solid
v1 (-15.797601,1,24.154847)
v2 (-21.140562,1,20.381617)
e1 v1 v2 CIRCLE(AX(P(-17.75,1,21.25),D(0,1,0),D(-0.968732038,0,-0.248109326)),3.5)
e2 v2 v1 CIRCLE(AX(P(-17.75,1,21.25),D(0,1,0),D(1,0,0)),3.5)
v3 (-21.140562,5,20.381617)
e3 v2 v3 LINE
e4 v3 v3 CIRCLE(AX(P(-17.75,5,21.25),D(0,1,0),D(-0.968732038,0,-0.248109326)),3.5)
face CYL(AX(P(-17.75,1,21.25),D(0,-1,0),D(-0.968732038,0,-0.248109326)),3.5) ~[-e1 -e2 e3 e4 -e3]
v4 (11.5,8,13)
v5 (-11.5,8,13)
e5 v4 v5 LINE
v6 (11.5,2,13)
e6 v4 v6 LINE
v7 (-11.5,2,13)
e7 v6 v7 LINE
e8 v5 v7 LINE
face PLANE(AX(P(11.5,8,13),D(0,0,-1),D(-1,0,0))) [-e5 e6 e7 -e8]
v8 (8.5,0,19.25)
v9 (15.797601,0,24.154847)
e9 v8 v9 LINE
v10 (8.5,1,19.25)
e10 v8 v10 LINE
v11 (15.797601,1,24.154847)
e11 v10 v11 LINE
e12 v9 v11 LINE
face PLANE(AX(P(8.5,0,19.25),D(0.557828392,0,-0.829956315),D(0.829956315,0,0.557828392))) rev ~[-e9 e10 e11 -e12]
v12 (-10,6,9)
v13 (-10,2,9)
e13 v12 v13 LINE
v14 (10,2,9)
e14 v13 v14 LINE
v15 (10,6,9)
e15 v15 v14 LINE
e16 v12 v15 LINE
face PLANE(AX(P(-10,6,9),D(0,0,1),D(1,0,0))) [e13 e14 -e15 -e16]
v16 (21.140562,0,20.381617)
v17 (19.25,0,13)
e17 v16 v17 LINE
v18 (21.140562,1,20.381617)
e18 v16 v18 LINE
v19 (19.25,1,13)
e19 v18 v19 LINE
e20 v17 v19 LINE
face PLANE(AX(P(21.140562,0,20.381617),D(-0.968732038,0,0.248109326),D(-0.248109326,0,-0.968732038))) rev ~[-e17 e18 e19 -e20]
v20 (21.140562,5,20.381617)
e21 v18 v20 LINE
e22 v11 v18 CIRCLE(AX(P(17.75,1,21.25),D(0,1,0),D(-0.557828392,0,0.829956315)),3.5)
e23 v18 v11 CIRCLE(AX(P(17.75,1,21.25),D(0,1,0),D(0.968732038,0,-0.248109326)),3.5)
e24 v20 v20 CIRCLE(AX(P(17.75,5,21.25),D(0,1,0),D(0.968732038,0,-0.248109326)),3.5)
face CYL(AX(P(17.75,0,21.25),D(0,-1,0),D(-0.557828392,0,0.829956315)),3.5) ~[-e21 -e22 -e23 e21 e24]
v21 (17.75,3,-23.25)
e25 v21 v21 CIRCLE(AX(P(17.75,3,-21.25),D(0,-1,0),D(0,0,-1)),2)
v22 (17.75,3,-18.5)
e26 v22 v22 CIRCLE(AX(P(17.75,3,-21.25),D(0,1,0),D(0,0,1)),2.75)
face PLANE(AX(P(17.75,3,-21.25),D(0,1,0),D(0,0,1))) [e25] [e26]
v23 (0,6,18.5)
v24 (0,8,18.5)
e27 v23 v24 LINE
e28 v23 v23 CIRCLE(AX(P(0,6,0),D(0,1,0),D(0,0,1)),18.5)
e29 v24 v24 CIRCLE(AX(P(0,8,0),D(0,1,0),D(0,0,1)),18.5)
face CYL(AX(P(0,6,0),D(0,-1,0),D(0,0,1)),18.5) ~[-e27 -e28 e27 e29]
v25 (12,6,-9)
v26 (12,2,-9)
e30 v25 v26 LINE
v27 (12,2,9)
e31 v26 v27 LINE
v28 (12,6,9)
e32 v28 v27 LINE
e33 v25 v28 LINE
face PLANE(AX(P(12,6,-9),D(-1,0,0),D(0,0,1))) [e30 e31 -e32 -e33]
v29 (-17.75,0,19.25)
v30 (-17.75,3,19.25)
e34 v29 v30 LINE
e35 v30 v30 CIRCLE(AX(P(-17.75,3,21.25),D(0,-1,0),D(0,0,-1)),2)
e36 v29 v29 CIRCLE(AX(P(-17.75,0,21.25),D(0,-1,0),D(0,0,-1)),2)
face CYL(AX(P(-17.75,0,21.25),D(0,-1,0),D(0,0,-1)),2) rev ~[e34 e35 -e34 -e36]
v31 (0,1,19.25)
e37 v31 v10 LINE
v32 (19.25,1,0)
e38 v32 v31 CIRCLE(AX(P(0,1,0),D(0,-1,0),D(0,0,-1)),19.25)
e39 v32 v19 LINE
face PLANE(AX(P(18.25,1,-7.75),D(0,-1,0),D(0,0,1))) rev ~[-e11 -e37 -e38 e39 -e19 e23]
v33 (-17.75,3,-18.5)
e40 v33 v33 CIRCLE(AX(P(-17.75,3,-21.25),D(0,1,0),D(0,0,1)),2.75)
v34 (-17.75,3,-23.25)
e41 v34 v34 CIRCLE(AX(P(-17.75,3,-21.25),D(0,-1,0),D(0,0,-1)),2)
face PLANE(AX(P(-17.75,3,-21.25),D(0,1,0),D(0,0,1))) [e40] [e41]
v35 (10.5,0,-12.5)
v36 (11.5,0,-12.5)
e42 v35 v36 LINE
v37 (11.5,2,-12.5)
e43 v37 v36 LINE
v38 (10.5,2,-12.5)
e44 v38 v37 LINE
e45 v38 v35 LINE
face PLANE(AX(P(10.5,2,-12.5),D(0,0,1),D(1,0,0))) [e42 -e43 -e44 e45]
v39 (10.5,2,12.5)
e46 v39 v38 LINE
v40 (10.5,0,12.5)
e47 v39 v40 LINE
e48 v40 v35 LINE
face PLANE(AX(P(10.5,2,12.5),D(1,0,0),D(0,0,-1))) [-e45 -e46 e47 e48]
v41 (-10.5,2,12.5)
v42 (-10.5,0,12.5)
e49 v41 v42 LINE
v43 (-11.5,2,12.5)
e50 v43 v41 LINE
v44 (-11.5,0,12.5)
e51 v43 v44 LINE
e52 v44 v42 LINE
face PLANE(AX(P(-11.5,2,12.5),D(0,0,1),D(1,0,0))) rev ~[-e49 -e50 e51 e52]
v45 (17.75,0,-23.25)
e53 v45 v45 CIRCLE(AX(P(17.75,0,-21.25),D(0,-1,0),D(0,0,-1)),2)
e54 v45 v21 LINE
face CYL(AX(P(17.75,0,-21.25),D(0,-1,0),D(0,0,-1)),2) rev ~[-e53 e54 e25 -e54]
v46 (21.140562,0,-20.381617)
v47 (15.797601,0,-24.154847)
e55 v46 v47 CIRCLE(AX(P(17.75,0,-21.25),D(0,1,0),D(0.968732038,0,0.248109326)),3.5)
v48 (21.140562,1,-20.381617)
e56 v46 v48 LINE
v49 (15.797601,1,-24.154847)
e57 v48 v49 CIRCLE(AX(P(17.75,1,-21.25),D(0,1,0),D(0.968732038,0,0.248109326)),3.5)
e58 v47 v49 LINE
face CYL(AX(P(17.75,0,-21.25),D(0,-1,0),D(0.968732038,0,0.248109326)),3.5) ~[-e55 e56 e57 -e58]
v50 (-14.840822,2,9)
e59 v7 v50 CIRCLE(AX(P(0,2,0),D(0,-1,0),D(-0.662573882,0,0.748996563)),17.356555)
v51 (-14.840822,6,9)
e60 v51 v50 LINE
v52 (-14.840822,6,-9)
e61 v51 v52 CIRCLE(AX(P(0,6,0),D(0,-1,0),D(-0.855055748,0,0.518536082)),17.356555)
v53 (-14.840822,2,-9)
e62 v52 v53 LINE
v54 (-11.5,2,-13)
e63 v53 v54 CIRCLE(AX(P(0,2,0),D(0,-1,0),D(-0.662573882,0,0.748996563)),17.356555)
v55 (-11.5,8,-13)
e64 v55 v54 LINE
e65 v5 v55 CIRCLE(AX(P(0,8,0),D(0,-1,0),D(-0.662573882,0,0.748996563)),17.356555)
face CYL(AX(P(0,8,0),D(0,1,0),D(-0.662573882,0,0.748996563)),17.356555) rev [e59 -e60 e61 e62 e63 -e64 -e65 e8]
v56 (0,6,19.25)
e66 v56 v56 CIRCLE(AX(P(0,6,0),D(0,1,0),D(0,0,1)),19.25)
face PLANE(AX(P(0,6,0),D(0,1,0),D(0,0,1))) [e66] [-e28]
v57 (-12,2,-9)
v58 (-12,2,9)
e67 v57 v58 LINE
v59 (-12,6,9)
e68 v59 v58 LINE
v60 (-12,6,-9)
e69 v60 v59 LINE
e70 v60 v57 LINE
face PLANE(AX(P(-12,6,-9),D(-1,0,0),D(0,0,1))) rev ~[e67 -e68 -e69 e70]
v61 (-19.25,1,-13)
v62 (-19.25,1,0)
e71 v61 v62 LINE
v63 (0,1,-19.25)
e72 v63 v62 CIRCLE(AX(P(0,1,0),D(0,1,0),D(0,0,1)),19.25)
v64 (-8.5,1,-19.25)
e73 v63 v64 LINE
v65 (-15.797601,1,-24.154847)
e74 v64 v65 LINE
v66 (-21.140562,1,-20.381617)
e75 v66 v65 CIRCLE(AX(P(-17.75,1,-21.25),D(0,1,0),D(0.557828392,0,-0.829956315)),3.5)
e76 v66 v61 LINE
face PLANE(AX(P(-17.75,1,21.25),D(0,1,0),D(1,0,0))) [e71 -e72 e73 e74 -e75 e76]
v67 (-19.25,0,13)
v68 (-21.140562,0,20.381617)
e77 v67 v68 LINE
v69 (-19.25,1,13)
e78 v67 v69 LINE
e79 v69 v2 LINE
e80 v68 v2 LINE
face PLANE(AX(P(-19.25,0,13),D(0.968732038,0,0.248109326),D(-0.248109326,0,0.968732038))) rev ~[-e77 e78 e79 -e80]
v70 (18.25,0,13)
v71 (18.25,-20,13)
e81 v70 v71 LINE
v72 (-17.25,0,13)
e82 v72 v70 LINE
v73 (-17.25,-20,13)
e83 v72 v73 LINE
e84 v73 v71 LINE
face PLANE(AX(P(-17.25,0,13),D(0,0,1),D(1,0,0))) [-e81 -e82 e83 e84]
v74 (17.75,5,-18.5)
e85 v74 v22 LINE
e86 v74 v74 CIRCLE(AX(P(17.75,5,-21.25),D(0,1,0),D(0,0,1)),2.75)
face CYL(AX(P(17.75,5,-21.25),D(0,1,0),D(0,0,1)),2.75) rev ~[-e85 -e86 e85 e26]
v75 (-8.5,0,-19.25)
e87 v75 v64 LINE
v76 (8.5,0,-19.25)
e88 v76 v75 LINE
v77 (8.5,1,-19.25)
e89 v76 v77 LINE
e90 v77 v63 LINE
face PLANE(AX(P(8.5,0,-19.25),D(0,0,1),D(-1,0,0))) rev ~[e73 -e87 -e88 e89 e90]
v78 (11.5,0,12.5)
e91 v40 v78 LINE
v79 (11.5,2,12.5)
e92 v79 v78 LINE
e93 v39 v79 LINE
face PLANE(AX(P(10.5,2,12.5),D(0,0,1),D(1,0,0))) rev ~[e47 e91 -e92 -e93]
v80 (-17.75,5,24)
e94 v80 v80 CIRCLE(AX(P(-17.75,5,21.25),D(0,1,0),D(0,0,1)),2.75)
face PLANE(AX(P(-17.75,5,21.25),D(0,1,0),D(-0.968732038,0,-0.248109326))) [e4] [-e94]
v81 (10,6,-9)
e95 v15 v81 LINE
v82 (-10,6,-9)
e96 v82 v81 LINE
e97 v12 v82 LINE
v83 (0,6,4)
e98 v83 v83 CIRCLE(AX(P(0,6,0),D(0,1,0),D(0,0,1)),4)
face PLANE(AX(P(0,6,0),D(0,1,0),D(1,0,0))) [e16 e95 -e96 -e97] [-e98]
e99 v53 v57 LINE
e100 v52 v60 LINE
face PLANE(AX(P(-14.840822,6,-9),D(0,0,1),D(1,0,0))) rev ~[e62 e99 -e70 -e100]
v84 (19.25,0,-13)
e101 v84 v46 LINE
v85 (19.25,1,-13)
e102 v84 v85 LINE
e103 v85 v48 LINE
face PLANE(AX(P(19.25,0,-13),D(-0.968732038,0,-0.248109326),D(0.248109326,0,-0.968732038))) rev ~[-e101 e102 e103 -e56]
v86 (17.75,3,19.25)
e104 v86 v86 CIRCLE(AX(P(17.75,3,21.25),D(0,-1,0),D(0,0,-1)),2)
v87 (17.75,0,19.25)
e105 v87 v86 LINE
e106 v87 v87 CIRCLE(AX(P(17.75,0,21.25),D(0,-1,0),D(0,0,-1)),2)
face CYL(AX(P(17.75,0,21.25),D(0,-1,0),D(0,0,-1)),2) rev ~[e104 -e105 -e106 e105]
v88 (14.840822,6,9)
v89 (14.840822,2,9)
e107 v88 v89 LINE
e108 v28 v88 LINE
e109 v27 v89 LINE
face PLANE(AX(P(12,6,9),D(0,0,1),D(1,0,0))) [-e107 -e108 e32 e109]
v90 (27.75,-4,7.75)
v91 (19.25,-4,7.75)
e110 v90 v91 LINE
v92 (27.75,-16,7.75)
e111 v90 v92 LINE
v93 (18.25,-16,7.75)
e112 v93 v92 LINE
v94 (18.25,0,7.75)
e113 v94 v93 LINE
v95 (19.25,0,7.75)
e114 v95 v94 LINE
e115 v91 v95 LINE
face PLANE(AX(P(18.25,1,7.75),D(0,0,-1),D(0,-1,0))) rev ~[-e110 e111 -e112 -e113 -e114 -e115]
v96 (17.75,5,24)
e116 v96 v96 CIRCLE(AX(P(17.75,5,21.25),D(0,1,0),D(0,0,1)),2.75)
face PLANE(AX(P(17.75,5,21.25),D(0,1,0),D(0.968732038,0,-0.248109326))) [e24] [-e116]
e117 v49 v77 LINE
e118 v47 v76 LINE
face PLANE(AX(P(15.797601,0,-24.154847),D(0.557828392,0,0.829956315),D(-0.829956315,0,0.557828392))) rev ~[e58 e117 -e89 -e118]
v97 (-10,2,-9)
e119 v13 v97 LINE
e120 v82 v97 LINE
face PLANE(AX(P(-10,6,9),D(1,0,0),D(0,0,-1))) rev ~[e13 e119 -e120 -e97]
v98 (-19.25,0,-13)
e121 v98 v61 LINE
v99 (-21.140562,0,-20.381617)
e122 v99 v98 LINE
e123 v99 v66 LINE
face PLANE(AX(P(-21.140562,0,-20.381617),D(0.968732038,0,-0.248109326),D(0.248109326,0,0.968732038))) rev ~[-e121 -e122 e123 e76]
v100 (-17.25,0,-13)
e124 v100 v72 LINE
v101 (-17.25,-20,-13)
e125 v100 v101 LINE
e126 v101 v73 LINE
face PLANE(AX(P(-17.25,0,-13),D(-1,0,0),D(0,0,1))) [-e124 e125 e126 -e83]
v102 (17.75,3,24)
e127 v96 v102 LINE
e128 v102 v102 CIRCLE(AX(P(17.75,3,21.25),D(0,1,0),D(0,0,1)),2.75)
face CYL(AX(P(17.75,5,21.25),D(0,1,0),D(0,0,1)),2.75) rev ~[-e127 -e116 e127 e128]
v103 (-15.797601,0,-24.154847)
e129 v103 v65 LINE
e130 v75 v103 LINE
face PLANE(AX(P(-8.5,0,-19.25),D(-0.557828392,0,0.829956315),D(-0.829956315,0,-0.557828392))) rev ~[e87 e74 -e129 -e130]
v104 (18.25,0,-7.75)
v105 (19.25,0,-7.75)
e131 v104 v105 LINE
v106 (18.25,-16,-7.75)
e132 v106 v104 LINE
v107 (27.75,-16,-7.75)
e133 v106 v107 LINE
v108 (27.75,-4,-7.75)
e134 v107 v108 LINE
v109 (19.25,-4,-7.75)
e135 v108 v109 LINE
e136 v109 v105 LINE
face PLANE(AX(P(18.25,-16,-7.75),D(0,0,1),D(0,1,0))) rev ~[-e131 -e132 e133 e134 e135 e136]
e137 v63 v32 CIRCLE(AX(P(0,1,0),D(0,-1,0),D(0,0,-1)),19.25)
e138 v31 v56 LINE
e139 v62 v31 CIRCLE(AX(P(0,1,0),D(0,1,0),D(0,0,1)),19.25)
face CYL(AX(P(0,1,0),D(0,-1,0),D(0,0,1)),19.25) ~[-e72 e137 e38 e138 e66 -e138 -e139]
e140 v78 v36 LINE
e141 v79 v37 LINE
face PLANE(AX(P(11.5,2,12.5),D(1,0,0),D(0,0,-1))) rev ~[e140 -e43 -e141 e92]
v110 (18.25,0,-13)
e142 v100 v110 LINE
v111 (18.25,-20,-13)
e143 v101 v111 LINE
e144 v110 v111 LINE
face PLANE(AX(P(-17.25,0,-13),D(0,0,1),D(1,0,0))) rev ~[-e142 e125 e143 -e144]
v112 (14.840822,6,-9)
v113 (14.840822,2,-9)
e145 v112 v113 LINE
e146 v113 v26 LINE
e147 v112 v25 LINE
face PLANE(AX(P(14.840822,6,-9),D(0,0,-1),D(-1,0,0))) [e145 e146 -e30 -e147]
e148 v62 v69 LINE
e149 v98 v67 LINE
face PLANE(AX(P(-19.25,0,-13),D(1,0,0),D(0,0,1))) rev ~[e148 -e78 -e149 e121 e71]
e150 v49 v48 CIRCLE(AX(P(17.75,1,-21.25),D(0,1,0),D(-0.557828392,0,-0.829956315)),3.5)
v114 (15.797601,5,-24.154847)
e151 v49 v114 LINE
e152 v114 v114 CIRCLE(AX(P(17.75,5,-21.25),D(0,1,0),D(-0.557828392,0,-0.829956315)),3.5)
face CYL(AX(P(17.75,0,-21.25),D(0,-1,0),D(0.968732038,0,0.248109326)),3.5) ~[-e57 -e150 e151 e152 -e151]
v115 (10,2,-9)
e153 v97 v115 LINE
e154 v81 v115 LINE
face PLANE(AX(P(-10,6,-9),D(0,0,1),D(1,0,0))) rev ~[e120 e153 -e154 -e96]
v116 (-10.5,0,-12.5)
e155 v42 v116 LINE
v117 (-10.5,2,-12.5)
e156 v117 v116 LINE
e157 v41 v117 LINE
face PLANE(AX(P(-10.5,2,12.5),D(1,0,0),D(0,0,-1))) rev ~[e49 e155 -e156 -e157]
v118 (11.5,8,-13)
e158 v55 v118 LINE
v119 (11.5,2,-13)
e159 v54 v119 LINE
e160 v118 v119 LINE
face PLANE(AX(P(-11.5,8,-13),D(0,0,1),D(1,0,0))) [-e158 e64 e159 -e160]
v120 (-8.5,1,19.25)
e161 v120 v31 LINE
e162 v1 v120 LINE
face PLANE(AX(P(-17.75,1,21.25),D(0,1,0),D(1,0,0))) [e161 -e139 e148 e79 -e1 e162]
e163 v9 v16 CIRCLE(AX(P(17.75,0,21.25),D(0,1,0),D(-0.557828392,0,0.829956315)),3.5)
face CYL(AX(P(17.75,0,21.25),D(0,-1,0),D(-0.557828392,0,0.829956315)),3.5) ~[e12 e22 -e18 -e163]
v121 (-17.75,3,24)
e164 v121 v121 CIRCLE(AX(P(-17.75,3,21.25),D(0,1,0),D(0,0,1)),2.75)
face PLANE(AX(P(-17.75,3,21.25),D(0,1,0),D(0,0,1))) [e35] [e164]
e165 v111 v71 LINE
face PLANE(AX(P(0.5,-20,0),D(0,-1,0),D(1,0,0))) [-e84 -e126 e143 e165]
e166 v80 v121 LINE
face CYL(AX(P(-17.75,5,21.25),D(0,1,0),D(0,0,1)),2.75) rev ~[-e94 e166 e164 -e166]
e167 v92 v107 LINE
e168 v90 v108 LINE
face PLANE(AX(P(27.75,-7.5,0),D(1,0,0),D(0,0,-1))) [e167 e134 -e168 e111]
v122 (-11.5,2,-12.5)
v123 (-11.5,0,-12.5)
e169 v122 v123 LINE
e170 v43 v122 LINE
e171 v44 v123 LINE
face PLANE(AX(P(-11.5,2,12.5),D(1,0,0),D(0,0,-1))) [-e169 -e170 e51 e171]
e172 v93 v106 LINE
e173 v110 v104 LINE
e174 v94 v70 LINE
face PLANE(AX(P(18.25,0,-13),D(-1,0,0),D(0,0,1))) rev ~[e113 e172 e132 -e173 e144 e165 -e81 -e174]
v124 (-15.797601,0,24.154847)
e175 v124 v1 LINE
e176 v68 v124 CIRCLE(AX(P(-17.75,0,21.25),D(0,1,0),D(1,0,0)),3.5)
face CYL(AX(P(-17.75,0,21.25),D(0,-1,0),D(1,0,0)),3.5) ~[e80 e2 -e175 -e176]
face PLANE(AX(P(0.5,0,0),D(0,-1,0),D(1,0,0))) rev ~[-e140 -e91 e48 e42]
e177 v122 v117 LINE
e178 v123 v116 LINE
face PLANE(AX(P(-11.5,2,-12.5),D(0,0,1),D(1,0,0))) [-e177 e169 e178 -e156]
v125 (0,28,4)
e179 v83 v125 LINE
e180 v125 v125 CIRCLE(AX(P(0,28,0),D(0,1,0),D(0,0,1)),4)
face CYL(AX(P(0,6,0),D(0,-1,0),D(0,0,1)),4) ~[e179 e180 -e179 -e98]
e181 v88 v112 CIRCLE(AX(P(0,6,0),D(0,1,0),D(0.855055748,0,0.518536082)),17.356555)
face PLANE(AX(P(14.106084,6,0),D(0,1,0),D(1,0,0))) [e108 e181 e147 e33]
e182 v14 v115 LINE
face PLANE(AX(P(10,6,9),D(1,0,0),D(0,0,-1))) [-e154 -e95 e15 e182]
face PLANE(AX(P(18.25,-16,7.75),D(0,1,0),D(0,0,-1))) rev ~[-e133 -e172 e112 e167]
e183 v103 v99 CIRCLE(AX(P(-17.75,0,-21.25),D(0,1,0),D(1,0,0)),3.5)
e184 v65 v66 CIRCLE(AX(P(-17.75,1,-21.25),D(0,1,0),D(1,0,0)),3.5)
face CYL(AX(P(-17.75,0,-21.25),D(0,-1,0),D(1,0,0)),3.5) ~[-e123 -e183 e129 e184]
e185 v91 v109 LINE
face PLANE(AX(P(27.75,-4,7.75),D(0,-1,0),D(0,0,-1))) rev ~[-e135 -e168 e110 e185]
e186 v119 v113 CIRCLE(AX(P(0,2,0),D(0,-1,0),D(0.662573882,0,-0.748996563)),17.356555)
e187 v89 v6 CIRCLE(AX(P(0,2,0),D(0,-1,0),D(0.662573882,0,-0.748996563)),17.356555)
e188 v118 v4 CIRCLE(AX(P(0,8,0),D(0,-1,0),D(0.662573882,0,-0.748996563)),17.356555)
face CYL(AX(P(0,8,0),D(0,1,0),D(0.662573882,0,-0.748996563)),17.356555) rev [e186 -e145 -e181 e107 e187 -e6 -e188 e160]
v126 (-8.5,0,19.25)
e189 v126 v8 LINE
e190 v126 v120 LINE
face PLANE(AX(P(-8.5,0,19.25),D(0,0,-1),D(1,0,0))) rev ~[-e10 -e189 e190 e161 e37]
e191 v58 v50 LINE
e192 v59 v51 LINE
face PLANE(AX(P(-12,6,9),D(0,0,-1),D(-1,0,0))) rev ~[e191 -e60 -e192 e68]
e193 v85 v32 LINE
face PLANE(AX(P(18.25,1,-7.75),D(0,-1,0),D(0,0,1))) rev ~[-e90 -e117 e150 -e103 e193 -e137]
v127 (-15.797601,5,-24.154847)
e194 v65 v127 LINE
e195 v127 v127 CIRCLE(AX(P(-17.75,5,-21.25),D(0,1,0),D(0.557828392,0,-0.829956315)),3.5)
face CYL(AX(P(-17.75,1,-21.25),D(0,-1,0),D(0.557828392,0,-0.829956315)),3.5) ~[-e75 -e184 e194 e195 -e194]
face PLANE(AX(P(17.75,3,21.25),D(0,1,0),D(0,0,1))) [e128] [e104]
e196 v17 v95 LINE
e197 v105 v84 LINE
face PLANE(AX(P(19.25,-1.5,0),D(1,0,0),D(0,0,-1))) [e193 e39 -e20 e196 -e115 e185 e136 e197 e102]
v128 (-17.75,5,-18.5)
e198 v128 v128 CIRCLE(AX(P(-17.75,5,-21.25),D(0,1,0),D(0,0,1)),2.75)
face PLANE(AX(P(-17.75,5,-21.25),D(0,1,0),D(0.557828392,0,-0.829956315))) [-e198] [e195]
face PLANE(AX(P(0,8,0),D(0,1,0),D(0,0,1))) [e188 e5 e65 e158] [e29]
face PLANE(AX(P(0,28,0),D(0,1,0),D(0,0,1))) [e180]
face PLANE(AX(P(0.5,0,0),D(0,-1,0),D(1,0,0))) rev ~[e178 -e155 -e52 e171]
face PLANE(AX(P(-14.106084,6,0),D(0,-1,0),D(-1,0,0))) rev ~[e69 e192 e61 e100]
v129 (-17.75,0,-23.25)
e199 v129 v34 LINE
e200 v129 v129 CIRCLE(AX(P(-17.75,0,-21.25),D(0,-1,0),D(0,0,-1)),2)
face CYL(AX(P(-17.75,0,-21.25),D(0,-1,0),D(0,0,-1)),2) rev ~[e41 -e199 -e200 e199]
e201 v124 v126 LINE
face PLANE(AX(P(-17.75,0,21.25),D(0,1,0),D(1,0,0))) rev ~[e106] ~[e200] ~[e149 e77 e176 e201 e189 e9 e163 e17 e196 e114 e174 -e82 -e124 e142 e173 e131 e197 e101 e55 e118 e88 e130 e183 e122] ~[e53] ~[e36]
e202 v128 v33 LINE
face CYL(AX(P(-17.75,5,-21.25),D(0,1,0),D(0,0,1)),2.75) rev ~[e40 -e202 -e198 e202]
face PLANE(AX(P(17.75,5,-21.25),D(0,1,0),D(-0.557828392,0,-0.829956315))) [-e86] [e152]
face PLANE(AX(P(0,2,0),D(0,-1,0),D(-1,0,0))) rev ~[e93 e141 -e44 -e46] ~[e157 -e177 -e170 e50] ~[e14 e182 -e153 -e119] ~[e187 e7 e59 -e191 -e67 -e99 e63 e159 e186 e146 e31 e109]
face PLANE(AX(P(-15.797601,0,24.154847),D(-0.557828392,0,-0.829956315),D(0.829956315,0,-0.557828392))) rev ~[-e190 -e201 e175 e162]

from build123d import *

# Parameters (mm, degrees)
SKETCH4_R           = 3.5
SKETCH4_R_2         = 19.25
BOSS_EXTRUDE1_DEPTH = 1
SKETCH5_R           = 19.25
BOSS_EXTRUDE2_DEPTH = 5
SKETCH6_R           = 18.5
BOSS_EXTRUDE3_DEPTH = 2
CUT_EXTRUDE1_DEPTH  = 6
SKETCH8_W           = 1
SKETCH8_H           = 25
CUT_EXTRUDE2_DEPTH  = 6
BOSS_EXTRUDE4_START = 4
SKETCH9_W           = 20
SKETCH9_H           = 18
BOSS_EXTRUDE4_DEPTH = 4
SKETCH10_R          = 4
BOSS_EXTRUDE5_DEPTH = 22
SKETCH11_R          = 3.5
BOSS_EXTRUDE6_DEPTH = 4
SKETCH12_R          = 2.75
CUT_EXTRUDE3_DEPTH  = 2
SKETCH13_R          = 1.5
CUT_EXTRUDE4_DEPTH  = 7
SKETCH14_W          = 35.5
SKETCH14_H          = 26
BOSS_EXTRUDE7_DEPTH = 20
BOSS_EXTRUDE8_DEPTH = 9.5
SKETCH16_W          = 15.5
SKETCH16_H          = 5
CUT_EXTRUDE5_DEPTH  = 8.5
SKETCH17_R          = 2
CUT_EXTRUDE6_DEPTH  = 4


with BuildPart() as part:
    # Sketch4 → Boss-Extrude1 (new body)
    with BuildSketch(Plane(origin=(0, 0, 0), x_dir=(1, 0, 0), z_dir=(0, 1, 0))):
        with Locations((-17.75, -21.25)):
            Circle(SKETCH4_R)
        with BuildLine():
            ThreePointArc((3e-08, -19.25), (-13.611805493, -13.611805583), (-19.25, -9.7e-08))
            Line((-19.25, -9.7e-08), (-19.25, -13))
            Line((-19.25, -13), (-21.140562134, -20.381617358))
            ThreePointArc((-21.140562134, -20.381617358), (-17.312374287, -17.777467245), (-14.25, -21.25))
            ThreePointArc((-14.25, -21.25), (-14.66103595, -22.895691677), (-15.797600627, -24.154847102))
            Line((-15.797600627, -24.154847102), (-8.5, -19.25))
            Line((-8.5, -19.25), (3e-08, -19.25))
        make_face()
        Circle(SKETCH4_R_2)
        with BuildLine():
            Line((19.25, -13), (19.25, 0))
            ThreePointArc((19.25, 0), (13.611805548, -13.611805527), (3e-08, -19.25))
            Line((3e-08, -19.25), (8.5, -19.25))
            Line((8.5, -19.25), (15.797600627, -24.154847102))
            ThreePointArc((15.797600627, -24.154847102), (15.7309919, -18.391048043), (21.140562134, -20.381617358))
            Line((21.140562134, -20.381617358), (19.25, -13))
        make_face()
        with Locations((17.75, -21.25)):
            Circle(SKETCH4_R)
        with BuildLine():
            Line((8.5, 19.25), (0, 19.25))
            ThreePointArc((0, 19.25), (13.611805538, 13.611805538), (19.25, 0))
            Line((19.25, 0), (19.25, 13))
            Line((19.25, 13), (21.140562134, 20.381617358))
            ThreePointArc((21.140562134, 20.381617358), (15.7309919, 18.391048043), (15.797600627, 24.154847102))
            Line((15.797600627, 24.154847102), (8.5, 19.25))
        make_face()
        with Locations((17.75, 21.25)):
            Circle(SKETCH4_R)
        with BuildLine():
            Line((-8.5, 19.25), (-15.797600627, 24.154847102))
            ThreePointArc((-15.797600627, 24.154847102), (-14.66103595, 22.895691677), (-14.25, 21.25))
            ThreePointArc((-14.25, 21.25), (-17.312374287, 17.777467245), (-21.140562134, 20.381617358))
            Line((-21.140562134, 20.381617358), (-19.25, 13))
            Line((-19.25, 13), (-19.25, -9.7e-08))
            ThreePointArc((-19.25, -9.7e-08), (-13.611805572, 13.611805504), (0, 19.25))
            Line((0, 19.25), (-8.5, 19.25))
        make_face()
        with Locations((-17.75, 21.25)):
            Circle(SKETCH4_R)
    extrude(amount=BOSS_EXTRUDE1_DEPTH)

    # Sketch5 → Boss-Extrude2 (add)
    with BuildSketch(Plane(origin=(0, 1, 0), x_dir=(1, 0, 0), z_dir=(0, 1, 0))):
        with Locations(Location((0, 0, 0), (0, 0, 270))):
            Circle(SKETCH5_R)
    extrude(amount=BOSS_EXTRUDE2_DEPTH)

    # Sketch6 → Boss-Extrude3 (add)
    with BuildSketch(Plane(origin=(0, 6, 0), x_dir=(1, 0, 0), z_dir=(0, 1, 0))):
        with Locations(Location((0, 0, 0), (0, 0, 270))):
            Circle(SKETCH6_R)
    extrude(amount=BOSS_EXTRUDE3_DEPTH)

    # Sketch7 → Cut-Extrude1 (cut)
    with BuildSketch(Plane(origin=(0, 8, 0), x_dir=(1, 0, 0), z_dir=(0, 1, 0))):
        with BuildLine():
            Line((-11.5, 13), (11.5, 13))
            ThreePointArc((11.5, 13), (17.356554958, 0), (11.5, -13))
            Line((11.5, -13), (-11.5, -13))
            ThreePointArc((-11.5, -13), (-17.356554958, 0), (-11.5, 13))
        make_face()
    extrude(amount=-CUT_EXTRUDE1_DEPTH, mode=Mode.SUBTRACT)

    # Sketch8 → Cut-Extrude2 (cut)
    with BuildSketch(Plane(origin=(0, 2, 0), x_dir=(1, 0, 0), z_dir=(0, 1, 0))):
        with Locations((-11, 0)):
            Rectangle(SKETCH8_W, SKETCH8_H)
        with Locations((11, 0)):
            Rectangle(SKETCH8_W, SKETCH8_H)
    extrude(amount=-CUT_EXTRUDE2_DEPTH, mode=Mode.SUBTRACT)

    # Sketch9 → Boss-Extrude4 (add)
    with BuildSketch(Plane(origin=(0, 2, 0), x_dir=(1, 0, 0), z_dir=(0, 1, 0)).offset(BOSS_EXTRUDE4_START)):
        Rectangle(SKETCH9_W, SKETCH9_H)
        with BuildLine():
            Line((-14.84082208, 9), (-12, 9))
            Line((-12, 9), (-12, -9))
            Line((-12, -9), (-14.84082208, -9))
            ThreePointArc((-14.84082208, -9), (-17.356554958, 0), (-14.84082208, 9))
        make_face()
        with BuildLine():
            Line((12, -9), (14.84082208, -9))
            ThreePointArc((14.84082208, -9), (17.356554958, 0), (14.84082208, 9))
            Line((14.84082208, 9), (12, 9))
            Line((12, 9), (12, -9))
        make_face()
    extrude(amount=-BOSS_EXTRUDE4_DEPTH)

    # Sketch10 → Boss-Extrude5 (add)
    with BuildSketch(Plane(origin=(0, 6, 0), x_dir=(1, 0, 0), z_dir=(0, 1, 0))):
        with Locations(Location((0, 0, 0), (0, 0, 270))):
            Circle(SKETCH10_R)
    extrude(amount=BOSS_EXTRUDE5_DEPTH)

    # Sketch11 → Boss-Extrude6 (add)
    with BuildSketch(Plane(origin=(0, 1, 0), x_dir=(1, 0, 0), z_dir=(0, 1, 0))):
        with Locations(Location((-17.75, 21.25, 0), (0, 0, 56.094250748))):
            Circle(SKETCH11_R)
        with Locations(Location((17.75, 21.25, 0), (0, 0, 123.905749252))):
            Circle(SKETCH11_R)
        with Locations(Location((17.75, -21.25, 0), (0, 0, 14.365660019))):
            Circle(SKETCH11_R)
        with Locations(Location((-17.75, -21.25, 0), (0, 0, 165.634339981))):
            Circle(SKETCH11_R)
    extrude(amount=BOSS_EXTRUDE6_DEPTH)

    # Sketch12 → Cut-Extrude3 (cut)
    with BuildSketch(Plane(origin=(0, 5, 0), x_dir=(1, 0, 0), z_dir=(0, 1, 0))):
        with Locations(Location((-17.75, 21.25, 0), (0, 0, 270))):
            Circle(SKETCH12_R)
        with Locations(Location((17.75, 21.25, 0), (0, 0, 270))):
            Circle(SKETCH12_R)
        with Locations(Location((17.75, -21.25, 0), (0, 0, 270))):
            Circle(SKETCH12_R)
        with Locations(Location((-17.75, -21.25, 0), (0, 0, 270))):
            Circle(SKETCH12_R)
    extrude(amount=-CUT_EXTRUDE3_DEPTH, mode=Mode.SUBTRACT)

    # Sketch13 → Cut-Extrude4 (cut)
    with BuildSketch(Plane(origin=(0, 3, 0), x_dir=(1, 0, 0), z_dir=(0, 1, 0))):
        with Locations(Location((-17.75, 21.25, 0), (0, 0, 270))):
            Circle(SKETCH13_R)
        with Locations(Location((17.75, 21.25, 0), (0, 0, 270))):
            Circle(SKETCH13_R)
        with Locations(Location((17.75, -21.25, 0), (0, 0, 270))):
            Circle(SKETCH13_R)
        with Locations(Location((-17.75, -21.25, 0), (0, 0, 270))):
            Circle(SKETCH13_R)
    extrude(amount=-CUT_EXTRUDE4_DEPTH, mode=Mode.SUBTRACT)

    # Sketch14 → Boss-Extrude7 (add)
    with BuildSketch(Plane.XZ):
        with Locations((0.5, 0)):
            Rectangle(SKETCH14_W, SKETCH14_H)
    extrude(amount=BOSS_EXTRUDE7_DEPTH)

    # Sketch15 → Boss-Extrude8 (add)
    with BuildSketch(Plane(origin=(18.25, 0, 0), x_dir=(0, 0, -1), z_dir=(1, 0, 0))):
        Polygon((-7.75, 0), (-7.75, -16), (7.75, -16), (7.75, 0), (7.75, 1), (-7.75, 1), align=None)
    extrude(amount=BOSS_EXTRUDE8_DEPTH)

    # Sketch16 → Cut-Extrude5 (cut)
    with BuildSketch(Plane(origin=(27.75, 0, 0), x_dir=(0, 0, -1), z_dir=(1, 0, 0))):
        with Locations((0, -1.5)):
            Rectangle(SKETCH16_W, SKETCH16_H)
    extrude(amount=-CUT_EXTRUDE5_DEPTH, mode=Mode.SUBTRACT)

    # Sketch17 → Cut-Extrude6 (cut)
    with BuildSketch(Plane.XZ):
        with Locations(Location((-17.75, 21.25, 0), (0, 0, 270))):
            Circle(SKETCH17_R)
        with Locations(Location((17.75, 21.25, 0), (0, 0, 270))):
            Circle(SKETCH17_R)
        with Locations(Location((17.75, -21.25, 0), (0, 0, 270))):
            Circle(SKETCH17_R)
        with Locations(Location((-17.75, -21.25, 0), (0, 0, 270))):
            Circle(SKETCH17_R)
    extrude(amount=-CUT_EXTRUDE6_DEPTH, mode=Mode.SUBTRACT)


solid = part.part
